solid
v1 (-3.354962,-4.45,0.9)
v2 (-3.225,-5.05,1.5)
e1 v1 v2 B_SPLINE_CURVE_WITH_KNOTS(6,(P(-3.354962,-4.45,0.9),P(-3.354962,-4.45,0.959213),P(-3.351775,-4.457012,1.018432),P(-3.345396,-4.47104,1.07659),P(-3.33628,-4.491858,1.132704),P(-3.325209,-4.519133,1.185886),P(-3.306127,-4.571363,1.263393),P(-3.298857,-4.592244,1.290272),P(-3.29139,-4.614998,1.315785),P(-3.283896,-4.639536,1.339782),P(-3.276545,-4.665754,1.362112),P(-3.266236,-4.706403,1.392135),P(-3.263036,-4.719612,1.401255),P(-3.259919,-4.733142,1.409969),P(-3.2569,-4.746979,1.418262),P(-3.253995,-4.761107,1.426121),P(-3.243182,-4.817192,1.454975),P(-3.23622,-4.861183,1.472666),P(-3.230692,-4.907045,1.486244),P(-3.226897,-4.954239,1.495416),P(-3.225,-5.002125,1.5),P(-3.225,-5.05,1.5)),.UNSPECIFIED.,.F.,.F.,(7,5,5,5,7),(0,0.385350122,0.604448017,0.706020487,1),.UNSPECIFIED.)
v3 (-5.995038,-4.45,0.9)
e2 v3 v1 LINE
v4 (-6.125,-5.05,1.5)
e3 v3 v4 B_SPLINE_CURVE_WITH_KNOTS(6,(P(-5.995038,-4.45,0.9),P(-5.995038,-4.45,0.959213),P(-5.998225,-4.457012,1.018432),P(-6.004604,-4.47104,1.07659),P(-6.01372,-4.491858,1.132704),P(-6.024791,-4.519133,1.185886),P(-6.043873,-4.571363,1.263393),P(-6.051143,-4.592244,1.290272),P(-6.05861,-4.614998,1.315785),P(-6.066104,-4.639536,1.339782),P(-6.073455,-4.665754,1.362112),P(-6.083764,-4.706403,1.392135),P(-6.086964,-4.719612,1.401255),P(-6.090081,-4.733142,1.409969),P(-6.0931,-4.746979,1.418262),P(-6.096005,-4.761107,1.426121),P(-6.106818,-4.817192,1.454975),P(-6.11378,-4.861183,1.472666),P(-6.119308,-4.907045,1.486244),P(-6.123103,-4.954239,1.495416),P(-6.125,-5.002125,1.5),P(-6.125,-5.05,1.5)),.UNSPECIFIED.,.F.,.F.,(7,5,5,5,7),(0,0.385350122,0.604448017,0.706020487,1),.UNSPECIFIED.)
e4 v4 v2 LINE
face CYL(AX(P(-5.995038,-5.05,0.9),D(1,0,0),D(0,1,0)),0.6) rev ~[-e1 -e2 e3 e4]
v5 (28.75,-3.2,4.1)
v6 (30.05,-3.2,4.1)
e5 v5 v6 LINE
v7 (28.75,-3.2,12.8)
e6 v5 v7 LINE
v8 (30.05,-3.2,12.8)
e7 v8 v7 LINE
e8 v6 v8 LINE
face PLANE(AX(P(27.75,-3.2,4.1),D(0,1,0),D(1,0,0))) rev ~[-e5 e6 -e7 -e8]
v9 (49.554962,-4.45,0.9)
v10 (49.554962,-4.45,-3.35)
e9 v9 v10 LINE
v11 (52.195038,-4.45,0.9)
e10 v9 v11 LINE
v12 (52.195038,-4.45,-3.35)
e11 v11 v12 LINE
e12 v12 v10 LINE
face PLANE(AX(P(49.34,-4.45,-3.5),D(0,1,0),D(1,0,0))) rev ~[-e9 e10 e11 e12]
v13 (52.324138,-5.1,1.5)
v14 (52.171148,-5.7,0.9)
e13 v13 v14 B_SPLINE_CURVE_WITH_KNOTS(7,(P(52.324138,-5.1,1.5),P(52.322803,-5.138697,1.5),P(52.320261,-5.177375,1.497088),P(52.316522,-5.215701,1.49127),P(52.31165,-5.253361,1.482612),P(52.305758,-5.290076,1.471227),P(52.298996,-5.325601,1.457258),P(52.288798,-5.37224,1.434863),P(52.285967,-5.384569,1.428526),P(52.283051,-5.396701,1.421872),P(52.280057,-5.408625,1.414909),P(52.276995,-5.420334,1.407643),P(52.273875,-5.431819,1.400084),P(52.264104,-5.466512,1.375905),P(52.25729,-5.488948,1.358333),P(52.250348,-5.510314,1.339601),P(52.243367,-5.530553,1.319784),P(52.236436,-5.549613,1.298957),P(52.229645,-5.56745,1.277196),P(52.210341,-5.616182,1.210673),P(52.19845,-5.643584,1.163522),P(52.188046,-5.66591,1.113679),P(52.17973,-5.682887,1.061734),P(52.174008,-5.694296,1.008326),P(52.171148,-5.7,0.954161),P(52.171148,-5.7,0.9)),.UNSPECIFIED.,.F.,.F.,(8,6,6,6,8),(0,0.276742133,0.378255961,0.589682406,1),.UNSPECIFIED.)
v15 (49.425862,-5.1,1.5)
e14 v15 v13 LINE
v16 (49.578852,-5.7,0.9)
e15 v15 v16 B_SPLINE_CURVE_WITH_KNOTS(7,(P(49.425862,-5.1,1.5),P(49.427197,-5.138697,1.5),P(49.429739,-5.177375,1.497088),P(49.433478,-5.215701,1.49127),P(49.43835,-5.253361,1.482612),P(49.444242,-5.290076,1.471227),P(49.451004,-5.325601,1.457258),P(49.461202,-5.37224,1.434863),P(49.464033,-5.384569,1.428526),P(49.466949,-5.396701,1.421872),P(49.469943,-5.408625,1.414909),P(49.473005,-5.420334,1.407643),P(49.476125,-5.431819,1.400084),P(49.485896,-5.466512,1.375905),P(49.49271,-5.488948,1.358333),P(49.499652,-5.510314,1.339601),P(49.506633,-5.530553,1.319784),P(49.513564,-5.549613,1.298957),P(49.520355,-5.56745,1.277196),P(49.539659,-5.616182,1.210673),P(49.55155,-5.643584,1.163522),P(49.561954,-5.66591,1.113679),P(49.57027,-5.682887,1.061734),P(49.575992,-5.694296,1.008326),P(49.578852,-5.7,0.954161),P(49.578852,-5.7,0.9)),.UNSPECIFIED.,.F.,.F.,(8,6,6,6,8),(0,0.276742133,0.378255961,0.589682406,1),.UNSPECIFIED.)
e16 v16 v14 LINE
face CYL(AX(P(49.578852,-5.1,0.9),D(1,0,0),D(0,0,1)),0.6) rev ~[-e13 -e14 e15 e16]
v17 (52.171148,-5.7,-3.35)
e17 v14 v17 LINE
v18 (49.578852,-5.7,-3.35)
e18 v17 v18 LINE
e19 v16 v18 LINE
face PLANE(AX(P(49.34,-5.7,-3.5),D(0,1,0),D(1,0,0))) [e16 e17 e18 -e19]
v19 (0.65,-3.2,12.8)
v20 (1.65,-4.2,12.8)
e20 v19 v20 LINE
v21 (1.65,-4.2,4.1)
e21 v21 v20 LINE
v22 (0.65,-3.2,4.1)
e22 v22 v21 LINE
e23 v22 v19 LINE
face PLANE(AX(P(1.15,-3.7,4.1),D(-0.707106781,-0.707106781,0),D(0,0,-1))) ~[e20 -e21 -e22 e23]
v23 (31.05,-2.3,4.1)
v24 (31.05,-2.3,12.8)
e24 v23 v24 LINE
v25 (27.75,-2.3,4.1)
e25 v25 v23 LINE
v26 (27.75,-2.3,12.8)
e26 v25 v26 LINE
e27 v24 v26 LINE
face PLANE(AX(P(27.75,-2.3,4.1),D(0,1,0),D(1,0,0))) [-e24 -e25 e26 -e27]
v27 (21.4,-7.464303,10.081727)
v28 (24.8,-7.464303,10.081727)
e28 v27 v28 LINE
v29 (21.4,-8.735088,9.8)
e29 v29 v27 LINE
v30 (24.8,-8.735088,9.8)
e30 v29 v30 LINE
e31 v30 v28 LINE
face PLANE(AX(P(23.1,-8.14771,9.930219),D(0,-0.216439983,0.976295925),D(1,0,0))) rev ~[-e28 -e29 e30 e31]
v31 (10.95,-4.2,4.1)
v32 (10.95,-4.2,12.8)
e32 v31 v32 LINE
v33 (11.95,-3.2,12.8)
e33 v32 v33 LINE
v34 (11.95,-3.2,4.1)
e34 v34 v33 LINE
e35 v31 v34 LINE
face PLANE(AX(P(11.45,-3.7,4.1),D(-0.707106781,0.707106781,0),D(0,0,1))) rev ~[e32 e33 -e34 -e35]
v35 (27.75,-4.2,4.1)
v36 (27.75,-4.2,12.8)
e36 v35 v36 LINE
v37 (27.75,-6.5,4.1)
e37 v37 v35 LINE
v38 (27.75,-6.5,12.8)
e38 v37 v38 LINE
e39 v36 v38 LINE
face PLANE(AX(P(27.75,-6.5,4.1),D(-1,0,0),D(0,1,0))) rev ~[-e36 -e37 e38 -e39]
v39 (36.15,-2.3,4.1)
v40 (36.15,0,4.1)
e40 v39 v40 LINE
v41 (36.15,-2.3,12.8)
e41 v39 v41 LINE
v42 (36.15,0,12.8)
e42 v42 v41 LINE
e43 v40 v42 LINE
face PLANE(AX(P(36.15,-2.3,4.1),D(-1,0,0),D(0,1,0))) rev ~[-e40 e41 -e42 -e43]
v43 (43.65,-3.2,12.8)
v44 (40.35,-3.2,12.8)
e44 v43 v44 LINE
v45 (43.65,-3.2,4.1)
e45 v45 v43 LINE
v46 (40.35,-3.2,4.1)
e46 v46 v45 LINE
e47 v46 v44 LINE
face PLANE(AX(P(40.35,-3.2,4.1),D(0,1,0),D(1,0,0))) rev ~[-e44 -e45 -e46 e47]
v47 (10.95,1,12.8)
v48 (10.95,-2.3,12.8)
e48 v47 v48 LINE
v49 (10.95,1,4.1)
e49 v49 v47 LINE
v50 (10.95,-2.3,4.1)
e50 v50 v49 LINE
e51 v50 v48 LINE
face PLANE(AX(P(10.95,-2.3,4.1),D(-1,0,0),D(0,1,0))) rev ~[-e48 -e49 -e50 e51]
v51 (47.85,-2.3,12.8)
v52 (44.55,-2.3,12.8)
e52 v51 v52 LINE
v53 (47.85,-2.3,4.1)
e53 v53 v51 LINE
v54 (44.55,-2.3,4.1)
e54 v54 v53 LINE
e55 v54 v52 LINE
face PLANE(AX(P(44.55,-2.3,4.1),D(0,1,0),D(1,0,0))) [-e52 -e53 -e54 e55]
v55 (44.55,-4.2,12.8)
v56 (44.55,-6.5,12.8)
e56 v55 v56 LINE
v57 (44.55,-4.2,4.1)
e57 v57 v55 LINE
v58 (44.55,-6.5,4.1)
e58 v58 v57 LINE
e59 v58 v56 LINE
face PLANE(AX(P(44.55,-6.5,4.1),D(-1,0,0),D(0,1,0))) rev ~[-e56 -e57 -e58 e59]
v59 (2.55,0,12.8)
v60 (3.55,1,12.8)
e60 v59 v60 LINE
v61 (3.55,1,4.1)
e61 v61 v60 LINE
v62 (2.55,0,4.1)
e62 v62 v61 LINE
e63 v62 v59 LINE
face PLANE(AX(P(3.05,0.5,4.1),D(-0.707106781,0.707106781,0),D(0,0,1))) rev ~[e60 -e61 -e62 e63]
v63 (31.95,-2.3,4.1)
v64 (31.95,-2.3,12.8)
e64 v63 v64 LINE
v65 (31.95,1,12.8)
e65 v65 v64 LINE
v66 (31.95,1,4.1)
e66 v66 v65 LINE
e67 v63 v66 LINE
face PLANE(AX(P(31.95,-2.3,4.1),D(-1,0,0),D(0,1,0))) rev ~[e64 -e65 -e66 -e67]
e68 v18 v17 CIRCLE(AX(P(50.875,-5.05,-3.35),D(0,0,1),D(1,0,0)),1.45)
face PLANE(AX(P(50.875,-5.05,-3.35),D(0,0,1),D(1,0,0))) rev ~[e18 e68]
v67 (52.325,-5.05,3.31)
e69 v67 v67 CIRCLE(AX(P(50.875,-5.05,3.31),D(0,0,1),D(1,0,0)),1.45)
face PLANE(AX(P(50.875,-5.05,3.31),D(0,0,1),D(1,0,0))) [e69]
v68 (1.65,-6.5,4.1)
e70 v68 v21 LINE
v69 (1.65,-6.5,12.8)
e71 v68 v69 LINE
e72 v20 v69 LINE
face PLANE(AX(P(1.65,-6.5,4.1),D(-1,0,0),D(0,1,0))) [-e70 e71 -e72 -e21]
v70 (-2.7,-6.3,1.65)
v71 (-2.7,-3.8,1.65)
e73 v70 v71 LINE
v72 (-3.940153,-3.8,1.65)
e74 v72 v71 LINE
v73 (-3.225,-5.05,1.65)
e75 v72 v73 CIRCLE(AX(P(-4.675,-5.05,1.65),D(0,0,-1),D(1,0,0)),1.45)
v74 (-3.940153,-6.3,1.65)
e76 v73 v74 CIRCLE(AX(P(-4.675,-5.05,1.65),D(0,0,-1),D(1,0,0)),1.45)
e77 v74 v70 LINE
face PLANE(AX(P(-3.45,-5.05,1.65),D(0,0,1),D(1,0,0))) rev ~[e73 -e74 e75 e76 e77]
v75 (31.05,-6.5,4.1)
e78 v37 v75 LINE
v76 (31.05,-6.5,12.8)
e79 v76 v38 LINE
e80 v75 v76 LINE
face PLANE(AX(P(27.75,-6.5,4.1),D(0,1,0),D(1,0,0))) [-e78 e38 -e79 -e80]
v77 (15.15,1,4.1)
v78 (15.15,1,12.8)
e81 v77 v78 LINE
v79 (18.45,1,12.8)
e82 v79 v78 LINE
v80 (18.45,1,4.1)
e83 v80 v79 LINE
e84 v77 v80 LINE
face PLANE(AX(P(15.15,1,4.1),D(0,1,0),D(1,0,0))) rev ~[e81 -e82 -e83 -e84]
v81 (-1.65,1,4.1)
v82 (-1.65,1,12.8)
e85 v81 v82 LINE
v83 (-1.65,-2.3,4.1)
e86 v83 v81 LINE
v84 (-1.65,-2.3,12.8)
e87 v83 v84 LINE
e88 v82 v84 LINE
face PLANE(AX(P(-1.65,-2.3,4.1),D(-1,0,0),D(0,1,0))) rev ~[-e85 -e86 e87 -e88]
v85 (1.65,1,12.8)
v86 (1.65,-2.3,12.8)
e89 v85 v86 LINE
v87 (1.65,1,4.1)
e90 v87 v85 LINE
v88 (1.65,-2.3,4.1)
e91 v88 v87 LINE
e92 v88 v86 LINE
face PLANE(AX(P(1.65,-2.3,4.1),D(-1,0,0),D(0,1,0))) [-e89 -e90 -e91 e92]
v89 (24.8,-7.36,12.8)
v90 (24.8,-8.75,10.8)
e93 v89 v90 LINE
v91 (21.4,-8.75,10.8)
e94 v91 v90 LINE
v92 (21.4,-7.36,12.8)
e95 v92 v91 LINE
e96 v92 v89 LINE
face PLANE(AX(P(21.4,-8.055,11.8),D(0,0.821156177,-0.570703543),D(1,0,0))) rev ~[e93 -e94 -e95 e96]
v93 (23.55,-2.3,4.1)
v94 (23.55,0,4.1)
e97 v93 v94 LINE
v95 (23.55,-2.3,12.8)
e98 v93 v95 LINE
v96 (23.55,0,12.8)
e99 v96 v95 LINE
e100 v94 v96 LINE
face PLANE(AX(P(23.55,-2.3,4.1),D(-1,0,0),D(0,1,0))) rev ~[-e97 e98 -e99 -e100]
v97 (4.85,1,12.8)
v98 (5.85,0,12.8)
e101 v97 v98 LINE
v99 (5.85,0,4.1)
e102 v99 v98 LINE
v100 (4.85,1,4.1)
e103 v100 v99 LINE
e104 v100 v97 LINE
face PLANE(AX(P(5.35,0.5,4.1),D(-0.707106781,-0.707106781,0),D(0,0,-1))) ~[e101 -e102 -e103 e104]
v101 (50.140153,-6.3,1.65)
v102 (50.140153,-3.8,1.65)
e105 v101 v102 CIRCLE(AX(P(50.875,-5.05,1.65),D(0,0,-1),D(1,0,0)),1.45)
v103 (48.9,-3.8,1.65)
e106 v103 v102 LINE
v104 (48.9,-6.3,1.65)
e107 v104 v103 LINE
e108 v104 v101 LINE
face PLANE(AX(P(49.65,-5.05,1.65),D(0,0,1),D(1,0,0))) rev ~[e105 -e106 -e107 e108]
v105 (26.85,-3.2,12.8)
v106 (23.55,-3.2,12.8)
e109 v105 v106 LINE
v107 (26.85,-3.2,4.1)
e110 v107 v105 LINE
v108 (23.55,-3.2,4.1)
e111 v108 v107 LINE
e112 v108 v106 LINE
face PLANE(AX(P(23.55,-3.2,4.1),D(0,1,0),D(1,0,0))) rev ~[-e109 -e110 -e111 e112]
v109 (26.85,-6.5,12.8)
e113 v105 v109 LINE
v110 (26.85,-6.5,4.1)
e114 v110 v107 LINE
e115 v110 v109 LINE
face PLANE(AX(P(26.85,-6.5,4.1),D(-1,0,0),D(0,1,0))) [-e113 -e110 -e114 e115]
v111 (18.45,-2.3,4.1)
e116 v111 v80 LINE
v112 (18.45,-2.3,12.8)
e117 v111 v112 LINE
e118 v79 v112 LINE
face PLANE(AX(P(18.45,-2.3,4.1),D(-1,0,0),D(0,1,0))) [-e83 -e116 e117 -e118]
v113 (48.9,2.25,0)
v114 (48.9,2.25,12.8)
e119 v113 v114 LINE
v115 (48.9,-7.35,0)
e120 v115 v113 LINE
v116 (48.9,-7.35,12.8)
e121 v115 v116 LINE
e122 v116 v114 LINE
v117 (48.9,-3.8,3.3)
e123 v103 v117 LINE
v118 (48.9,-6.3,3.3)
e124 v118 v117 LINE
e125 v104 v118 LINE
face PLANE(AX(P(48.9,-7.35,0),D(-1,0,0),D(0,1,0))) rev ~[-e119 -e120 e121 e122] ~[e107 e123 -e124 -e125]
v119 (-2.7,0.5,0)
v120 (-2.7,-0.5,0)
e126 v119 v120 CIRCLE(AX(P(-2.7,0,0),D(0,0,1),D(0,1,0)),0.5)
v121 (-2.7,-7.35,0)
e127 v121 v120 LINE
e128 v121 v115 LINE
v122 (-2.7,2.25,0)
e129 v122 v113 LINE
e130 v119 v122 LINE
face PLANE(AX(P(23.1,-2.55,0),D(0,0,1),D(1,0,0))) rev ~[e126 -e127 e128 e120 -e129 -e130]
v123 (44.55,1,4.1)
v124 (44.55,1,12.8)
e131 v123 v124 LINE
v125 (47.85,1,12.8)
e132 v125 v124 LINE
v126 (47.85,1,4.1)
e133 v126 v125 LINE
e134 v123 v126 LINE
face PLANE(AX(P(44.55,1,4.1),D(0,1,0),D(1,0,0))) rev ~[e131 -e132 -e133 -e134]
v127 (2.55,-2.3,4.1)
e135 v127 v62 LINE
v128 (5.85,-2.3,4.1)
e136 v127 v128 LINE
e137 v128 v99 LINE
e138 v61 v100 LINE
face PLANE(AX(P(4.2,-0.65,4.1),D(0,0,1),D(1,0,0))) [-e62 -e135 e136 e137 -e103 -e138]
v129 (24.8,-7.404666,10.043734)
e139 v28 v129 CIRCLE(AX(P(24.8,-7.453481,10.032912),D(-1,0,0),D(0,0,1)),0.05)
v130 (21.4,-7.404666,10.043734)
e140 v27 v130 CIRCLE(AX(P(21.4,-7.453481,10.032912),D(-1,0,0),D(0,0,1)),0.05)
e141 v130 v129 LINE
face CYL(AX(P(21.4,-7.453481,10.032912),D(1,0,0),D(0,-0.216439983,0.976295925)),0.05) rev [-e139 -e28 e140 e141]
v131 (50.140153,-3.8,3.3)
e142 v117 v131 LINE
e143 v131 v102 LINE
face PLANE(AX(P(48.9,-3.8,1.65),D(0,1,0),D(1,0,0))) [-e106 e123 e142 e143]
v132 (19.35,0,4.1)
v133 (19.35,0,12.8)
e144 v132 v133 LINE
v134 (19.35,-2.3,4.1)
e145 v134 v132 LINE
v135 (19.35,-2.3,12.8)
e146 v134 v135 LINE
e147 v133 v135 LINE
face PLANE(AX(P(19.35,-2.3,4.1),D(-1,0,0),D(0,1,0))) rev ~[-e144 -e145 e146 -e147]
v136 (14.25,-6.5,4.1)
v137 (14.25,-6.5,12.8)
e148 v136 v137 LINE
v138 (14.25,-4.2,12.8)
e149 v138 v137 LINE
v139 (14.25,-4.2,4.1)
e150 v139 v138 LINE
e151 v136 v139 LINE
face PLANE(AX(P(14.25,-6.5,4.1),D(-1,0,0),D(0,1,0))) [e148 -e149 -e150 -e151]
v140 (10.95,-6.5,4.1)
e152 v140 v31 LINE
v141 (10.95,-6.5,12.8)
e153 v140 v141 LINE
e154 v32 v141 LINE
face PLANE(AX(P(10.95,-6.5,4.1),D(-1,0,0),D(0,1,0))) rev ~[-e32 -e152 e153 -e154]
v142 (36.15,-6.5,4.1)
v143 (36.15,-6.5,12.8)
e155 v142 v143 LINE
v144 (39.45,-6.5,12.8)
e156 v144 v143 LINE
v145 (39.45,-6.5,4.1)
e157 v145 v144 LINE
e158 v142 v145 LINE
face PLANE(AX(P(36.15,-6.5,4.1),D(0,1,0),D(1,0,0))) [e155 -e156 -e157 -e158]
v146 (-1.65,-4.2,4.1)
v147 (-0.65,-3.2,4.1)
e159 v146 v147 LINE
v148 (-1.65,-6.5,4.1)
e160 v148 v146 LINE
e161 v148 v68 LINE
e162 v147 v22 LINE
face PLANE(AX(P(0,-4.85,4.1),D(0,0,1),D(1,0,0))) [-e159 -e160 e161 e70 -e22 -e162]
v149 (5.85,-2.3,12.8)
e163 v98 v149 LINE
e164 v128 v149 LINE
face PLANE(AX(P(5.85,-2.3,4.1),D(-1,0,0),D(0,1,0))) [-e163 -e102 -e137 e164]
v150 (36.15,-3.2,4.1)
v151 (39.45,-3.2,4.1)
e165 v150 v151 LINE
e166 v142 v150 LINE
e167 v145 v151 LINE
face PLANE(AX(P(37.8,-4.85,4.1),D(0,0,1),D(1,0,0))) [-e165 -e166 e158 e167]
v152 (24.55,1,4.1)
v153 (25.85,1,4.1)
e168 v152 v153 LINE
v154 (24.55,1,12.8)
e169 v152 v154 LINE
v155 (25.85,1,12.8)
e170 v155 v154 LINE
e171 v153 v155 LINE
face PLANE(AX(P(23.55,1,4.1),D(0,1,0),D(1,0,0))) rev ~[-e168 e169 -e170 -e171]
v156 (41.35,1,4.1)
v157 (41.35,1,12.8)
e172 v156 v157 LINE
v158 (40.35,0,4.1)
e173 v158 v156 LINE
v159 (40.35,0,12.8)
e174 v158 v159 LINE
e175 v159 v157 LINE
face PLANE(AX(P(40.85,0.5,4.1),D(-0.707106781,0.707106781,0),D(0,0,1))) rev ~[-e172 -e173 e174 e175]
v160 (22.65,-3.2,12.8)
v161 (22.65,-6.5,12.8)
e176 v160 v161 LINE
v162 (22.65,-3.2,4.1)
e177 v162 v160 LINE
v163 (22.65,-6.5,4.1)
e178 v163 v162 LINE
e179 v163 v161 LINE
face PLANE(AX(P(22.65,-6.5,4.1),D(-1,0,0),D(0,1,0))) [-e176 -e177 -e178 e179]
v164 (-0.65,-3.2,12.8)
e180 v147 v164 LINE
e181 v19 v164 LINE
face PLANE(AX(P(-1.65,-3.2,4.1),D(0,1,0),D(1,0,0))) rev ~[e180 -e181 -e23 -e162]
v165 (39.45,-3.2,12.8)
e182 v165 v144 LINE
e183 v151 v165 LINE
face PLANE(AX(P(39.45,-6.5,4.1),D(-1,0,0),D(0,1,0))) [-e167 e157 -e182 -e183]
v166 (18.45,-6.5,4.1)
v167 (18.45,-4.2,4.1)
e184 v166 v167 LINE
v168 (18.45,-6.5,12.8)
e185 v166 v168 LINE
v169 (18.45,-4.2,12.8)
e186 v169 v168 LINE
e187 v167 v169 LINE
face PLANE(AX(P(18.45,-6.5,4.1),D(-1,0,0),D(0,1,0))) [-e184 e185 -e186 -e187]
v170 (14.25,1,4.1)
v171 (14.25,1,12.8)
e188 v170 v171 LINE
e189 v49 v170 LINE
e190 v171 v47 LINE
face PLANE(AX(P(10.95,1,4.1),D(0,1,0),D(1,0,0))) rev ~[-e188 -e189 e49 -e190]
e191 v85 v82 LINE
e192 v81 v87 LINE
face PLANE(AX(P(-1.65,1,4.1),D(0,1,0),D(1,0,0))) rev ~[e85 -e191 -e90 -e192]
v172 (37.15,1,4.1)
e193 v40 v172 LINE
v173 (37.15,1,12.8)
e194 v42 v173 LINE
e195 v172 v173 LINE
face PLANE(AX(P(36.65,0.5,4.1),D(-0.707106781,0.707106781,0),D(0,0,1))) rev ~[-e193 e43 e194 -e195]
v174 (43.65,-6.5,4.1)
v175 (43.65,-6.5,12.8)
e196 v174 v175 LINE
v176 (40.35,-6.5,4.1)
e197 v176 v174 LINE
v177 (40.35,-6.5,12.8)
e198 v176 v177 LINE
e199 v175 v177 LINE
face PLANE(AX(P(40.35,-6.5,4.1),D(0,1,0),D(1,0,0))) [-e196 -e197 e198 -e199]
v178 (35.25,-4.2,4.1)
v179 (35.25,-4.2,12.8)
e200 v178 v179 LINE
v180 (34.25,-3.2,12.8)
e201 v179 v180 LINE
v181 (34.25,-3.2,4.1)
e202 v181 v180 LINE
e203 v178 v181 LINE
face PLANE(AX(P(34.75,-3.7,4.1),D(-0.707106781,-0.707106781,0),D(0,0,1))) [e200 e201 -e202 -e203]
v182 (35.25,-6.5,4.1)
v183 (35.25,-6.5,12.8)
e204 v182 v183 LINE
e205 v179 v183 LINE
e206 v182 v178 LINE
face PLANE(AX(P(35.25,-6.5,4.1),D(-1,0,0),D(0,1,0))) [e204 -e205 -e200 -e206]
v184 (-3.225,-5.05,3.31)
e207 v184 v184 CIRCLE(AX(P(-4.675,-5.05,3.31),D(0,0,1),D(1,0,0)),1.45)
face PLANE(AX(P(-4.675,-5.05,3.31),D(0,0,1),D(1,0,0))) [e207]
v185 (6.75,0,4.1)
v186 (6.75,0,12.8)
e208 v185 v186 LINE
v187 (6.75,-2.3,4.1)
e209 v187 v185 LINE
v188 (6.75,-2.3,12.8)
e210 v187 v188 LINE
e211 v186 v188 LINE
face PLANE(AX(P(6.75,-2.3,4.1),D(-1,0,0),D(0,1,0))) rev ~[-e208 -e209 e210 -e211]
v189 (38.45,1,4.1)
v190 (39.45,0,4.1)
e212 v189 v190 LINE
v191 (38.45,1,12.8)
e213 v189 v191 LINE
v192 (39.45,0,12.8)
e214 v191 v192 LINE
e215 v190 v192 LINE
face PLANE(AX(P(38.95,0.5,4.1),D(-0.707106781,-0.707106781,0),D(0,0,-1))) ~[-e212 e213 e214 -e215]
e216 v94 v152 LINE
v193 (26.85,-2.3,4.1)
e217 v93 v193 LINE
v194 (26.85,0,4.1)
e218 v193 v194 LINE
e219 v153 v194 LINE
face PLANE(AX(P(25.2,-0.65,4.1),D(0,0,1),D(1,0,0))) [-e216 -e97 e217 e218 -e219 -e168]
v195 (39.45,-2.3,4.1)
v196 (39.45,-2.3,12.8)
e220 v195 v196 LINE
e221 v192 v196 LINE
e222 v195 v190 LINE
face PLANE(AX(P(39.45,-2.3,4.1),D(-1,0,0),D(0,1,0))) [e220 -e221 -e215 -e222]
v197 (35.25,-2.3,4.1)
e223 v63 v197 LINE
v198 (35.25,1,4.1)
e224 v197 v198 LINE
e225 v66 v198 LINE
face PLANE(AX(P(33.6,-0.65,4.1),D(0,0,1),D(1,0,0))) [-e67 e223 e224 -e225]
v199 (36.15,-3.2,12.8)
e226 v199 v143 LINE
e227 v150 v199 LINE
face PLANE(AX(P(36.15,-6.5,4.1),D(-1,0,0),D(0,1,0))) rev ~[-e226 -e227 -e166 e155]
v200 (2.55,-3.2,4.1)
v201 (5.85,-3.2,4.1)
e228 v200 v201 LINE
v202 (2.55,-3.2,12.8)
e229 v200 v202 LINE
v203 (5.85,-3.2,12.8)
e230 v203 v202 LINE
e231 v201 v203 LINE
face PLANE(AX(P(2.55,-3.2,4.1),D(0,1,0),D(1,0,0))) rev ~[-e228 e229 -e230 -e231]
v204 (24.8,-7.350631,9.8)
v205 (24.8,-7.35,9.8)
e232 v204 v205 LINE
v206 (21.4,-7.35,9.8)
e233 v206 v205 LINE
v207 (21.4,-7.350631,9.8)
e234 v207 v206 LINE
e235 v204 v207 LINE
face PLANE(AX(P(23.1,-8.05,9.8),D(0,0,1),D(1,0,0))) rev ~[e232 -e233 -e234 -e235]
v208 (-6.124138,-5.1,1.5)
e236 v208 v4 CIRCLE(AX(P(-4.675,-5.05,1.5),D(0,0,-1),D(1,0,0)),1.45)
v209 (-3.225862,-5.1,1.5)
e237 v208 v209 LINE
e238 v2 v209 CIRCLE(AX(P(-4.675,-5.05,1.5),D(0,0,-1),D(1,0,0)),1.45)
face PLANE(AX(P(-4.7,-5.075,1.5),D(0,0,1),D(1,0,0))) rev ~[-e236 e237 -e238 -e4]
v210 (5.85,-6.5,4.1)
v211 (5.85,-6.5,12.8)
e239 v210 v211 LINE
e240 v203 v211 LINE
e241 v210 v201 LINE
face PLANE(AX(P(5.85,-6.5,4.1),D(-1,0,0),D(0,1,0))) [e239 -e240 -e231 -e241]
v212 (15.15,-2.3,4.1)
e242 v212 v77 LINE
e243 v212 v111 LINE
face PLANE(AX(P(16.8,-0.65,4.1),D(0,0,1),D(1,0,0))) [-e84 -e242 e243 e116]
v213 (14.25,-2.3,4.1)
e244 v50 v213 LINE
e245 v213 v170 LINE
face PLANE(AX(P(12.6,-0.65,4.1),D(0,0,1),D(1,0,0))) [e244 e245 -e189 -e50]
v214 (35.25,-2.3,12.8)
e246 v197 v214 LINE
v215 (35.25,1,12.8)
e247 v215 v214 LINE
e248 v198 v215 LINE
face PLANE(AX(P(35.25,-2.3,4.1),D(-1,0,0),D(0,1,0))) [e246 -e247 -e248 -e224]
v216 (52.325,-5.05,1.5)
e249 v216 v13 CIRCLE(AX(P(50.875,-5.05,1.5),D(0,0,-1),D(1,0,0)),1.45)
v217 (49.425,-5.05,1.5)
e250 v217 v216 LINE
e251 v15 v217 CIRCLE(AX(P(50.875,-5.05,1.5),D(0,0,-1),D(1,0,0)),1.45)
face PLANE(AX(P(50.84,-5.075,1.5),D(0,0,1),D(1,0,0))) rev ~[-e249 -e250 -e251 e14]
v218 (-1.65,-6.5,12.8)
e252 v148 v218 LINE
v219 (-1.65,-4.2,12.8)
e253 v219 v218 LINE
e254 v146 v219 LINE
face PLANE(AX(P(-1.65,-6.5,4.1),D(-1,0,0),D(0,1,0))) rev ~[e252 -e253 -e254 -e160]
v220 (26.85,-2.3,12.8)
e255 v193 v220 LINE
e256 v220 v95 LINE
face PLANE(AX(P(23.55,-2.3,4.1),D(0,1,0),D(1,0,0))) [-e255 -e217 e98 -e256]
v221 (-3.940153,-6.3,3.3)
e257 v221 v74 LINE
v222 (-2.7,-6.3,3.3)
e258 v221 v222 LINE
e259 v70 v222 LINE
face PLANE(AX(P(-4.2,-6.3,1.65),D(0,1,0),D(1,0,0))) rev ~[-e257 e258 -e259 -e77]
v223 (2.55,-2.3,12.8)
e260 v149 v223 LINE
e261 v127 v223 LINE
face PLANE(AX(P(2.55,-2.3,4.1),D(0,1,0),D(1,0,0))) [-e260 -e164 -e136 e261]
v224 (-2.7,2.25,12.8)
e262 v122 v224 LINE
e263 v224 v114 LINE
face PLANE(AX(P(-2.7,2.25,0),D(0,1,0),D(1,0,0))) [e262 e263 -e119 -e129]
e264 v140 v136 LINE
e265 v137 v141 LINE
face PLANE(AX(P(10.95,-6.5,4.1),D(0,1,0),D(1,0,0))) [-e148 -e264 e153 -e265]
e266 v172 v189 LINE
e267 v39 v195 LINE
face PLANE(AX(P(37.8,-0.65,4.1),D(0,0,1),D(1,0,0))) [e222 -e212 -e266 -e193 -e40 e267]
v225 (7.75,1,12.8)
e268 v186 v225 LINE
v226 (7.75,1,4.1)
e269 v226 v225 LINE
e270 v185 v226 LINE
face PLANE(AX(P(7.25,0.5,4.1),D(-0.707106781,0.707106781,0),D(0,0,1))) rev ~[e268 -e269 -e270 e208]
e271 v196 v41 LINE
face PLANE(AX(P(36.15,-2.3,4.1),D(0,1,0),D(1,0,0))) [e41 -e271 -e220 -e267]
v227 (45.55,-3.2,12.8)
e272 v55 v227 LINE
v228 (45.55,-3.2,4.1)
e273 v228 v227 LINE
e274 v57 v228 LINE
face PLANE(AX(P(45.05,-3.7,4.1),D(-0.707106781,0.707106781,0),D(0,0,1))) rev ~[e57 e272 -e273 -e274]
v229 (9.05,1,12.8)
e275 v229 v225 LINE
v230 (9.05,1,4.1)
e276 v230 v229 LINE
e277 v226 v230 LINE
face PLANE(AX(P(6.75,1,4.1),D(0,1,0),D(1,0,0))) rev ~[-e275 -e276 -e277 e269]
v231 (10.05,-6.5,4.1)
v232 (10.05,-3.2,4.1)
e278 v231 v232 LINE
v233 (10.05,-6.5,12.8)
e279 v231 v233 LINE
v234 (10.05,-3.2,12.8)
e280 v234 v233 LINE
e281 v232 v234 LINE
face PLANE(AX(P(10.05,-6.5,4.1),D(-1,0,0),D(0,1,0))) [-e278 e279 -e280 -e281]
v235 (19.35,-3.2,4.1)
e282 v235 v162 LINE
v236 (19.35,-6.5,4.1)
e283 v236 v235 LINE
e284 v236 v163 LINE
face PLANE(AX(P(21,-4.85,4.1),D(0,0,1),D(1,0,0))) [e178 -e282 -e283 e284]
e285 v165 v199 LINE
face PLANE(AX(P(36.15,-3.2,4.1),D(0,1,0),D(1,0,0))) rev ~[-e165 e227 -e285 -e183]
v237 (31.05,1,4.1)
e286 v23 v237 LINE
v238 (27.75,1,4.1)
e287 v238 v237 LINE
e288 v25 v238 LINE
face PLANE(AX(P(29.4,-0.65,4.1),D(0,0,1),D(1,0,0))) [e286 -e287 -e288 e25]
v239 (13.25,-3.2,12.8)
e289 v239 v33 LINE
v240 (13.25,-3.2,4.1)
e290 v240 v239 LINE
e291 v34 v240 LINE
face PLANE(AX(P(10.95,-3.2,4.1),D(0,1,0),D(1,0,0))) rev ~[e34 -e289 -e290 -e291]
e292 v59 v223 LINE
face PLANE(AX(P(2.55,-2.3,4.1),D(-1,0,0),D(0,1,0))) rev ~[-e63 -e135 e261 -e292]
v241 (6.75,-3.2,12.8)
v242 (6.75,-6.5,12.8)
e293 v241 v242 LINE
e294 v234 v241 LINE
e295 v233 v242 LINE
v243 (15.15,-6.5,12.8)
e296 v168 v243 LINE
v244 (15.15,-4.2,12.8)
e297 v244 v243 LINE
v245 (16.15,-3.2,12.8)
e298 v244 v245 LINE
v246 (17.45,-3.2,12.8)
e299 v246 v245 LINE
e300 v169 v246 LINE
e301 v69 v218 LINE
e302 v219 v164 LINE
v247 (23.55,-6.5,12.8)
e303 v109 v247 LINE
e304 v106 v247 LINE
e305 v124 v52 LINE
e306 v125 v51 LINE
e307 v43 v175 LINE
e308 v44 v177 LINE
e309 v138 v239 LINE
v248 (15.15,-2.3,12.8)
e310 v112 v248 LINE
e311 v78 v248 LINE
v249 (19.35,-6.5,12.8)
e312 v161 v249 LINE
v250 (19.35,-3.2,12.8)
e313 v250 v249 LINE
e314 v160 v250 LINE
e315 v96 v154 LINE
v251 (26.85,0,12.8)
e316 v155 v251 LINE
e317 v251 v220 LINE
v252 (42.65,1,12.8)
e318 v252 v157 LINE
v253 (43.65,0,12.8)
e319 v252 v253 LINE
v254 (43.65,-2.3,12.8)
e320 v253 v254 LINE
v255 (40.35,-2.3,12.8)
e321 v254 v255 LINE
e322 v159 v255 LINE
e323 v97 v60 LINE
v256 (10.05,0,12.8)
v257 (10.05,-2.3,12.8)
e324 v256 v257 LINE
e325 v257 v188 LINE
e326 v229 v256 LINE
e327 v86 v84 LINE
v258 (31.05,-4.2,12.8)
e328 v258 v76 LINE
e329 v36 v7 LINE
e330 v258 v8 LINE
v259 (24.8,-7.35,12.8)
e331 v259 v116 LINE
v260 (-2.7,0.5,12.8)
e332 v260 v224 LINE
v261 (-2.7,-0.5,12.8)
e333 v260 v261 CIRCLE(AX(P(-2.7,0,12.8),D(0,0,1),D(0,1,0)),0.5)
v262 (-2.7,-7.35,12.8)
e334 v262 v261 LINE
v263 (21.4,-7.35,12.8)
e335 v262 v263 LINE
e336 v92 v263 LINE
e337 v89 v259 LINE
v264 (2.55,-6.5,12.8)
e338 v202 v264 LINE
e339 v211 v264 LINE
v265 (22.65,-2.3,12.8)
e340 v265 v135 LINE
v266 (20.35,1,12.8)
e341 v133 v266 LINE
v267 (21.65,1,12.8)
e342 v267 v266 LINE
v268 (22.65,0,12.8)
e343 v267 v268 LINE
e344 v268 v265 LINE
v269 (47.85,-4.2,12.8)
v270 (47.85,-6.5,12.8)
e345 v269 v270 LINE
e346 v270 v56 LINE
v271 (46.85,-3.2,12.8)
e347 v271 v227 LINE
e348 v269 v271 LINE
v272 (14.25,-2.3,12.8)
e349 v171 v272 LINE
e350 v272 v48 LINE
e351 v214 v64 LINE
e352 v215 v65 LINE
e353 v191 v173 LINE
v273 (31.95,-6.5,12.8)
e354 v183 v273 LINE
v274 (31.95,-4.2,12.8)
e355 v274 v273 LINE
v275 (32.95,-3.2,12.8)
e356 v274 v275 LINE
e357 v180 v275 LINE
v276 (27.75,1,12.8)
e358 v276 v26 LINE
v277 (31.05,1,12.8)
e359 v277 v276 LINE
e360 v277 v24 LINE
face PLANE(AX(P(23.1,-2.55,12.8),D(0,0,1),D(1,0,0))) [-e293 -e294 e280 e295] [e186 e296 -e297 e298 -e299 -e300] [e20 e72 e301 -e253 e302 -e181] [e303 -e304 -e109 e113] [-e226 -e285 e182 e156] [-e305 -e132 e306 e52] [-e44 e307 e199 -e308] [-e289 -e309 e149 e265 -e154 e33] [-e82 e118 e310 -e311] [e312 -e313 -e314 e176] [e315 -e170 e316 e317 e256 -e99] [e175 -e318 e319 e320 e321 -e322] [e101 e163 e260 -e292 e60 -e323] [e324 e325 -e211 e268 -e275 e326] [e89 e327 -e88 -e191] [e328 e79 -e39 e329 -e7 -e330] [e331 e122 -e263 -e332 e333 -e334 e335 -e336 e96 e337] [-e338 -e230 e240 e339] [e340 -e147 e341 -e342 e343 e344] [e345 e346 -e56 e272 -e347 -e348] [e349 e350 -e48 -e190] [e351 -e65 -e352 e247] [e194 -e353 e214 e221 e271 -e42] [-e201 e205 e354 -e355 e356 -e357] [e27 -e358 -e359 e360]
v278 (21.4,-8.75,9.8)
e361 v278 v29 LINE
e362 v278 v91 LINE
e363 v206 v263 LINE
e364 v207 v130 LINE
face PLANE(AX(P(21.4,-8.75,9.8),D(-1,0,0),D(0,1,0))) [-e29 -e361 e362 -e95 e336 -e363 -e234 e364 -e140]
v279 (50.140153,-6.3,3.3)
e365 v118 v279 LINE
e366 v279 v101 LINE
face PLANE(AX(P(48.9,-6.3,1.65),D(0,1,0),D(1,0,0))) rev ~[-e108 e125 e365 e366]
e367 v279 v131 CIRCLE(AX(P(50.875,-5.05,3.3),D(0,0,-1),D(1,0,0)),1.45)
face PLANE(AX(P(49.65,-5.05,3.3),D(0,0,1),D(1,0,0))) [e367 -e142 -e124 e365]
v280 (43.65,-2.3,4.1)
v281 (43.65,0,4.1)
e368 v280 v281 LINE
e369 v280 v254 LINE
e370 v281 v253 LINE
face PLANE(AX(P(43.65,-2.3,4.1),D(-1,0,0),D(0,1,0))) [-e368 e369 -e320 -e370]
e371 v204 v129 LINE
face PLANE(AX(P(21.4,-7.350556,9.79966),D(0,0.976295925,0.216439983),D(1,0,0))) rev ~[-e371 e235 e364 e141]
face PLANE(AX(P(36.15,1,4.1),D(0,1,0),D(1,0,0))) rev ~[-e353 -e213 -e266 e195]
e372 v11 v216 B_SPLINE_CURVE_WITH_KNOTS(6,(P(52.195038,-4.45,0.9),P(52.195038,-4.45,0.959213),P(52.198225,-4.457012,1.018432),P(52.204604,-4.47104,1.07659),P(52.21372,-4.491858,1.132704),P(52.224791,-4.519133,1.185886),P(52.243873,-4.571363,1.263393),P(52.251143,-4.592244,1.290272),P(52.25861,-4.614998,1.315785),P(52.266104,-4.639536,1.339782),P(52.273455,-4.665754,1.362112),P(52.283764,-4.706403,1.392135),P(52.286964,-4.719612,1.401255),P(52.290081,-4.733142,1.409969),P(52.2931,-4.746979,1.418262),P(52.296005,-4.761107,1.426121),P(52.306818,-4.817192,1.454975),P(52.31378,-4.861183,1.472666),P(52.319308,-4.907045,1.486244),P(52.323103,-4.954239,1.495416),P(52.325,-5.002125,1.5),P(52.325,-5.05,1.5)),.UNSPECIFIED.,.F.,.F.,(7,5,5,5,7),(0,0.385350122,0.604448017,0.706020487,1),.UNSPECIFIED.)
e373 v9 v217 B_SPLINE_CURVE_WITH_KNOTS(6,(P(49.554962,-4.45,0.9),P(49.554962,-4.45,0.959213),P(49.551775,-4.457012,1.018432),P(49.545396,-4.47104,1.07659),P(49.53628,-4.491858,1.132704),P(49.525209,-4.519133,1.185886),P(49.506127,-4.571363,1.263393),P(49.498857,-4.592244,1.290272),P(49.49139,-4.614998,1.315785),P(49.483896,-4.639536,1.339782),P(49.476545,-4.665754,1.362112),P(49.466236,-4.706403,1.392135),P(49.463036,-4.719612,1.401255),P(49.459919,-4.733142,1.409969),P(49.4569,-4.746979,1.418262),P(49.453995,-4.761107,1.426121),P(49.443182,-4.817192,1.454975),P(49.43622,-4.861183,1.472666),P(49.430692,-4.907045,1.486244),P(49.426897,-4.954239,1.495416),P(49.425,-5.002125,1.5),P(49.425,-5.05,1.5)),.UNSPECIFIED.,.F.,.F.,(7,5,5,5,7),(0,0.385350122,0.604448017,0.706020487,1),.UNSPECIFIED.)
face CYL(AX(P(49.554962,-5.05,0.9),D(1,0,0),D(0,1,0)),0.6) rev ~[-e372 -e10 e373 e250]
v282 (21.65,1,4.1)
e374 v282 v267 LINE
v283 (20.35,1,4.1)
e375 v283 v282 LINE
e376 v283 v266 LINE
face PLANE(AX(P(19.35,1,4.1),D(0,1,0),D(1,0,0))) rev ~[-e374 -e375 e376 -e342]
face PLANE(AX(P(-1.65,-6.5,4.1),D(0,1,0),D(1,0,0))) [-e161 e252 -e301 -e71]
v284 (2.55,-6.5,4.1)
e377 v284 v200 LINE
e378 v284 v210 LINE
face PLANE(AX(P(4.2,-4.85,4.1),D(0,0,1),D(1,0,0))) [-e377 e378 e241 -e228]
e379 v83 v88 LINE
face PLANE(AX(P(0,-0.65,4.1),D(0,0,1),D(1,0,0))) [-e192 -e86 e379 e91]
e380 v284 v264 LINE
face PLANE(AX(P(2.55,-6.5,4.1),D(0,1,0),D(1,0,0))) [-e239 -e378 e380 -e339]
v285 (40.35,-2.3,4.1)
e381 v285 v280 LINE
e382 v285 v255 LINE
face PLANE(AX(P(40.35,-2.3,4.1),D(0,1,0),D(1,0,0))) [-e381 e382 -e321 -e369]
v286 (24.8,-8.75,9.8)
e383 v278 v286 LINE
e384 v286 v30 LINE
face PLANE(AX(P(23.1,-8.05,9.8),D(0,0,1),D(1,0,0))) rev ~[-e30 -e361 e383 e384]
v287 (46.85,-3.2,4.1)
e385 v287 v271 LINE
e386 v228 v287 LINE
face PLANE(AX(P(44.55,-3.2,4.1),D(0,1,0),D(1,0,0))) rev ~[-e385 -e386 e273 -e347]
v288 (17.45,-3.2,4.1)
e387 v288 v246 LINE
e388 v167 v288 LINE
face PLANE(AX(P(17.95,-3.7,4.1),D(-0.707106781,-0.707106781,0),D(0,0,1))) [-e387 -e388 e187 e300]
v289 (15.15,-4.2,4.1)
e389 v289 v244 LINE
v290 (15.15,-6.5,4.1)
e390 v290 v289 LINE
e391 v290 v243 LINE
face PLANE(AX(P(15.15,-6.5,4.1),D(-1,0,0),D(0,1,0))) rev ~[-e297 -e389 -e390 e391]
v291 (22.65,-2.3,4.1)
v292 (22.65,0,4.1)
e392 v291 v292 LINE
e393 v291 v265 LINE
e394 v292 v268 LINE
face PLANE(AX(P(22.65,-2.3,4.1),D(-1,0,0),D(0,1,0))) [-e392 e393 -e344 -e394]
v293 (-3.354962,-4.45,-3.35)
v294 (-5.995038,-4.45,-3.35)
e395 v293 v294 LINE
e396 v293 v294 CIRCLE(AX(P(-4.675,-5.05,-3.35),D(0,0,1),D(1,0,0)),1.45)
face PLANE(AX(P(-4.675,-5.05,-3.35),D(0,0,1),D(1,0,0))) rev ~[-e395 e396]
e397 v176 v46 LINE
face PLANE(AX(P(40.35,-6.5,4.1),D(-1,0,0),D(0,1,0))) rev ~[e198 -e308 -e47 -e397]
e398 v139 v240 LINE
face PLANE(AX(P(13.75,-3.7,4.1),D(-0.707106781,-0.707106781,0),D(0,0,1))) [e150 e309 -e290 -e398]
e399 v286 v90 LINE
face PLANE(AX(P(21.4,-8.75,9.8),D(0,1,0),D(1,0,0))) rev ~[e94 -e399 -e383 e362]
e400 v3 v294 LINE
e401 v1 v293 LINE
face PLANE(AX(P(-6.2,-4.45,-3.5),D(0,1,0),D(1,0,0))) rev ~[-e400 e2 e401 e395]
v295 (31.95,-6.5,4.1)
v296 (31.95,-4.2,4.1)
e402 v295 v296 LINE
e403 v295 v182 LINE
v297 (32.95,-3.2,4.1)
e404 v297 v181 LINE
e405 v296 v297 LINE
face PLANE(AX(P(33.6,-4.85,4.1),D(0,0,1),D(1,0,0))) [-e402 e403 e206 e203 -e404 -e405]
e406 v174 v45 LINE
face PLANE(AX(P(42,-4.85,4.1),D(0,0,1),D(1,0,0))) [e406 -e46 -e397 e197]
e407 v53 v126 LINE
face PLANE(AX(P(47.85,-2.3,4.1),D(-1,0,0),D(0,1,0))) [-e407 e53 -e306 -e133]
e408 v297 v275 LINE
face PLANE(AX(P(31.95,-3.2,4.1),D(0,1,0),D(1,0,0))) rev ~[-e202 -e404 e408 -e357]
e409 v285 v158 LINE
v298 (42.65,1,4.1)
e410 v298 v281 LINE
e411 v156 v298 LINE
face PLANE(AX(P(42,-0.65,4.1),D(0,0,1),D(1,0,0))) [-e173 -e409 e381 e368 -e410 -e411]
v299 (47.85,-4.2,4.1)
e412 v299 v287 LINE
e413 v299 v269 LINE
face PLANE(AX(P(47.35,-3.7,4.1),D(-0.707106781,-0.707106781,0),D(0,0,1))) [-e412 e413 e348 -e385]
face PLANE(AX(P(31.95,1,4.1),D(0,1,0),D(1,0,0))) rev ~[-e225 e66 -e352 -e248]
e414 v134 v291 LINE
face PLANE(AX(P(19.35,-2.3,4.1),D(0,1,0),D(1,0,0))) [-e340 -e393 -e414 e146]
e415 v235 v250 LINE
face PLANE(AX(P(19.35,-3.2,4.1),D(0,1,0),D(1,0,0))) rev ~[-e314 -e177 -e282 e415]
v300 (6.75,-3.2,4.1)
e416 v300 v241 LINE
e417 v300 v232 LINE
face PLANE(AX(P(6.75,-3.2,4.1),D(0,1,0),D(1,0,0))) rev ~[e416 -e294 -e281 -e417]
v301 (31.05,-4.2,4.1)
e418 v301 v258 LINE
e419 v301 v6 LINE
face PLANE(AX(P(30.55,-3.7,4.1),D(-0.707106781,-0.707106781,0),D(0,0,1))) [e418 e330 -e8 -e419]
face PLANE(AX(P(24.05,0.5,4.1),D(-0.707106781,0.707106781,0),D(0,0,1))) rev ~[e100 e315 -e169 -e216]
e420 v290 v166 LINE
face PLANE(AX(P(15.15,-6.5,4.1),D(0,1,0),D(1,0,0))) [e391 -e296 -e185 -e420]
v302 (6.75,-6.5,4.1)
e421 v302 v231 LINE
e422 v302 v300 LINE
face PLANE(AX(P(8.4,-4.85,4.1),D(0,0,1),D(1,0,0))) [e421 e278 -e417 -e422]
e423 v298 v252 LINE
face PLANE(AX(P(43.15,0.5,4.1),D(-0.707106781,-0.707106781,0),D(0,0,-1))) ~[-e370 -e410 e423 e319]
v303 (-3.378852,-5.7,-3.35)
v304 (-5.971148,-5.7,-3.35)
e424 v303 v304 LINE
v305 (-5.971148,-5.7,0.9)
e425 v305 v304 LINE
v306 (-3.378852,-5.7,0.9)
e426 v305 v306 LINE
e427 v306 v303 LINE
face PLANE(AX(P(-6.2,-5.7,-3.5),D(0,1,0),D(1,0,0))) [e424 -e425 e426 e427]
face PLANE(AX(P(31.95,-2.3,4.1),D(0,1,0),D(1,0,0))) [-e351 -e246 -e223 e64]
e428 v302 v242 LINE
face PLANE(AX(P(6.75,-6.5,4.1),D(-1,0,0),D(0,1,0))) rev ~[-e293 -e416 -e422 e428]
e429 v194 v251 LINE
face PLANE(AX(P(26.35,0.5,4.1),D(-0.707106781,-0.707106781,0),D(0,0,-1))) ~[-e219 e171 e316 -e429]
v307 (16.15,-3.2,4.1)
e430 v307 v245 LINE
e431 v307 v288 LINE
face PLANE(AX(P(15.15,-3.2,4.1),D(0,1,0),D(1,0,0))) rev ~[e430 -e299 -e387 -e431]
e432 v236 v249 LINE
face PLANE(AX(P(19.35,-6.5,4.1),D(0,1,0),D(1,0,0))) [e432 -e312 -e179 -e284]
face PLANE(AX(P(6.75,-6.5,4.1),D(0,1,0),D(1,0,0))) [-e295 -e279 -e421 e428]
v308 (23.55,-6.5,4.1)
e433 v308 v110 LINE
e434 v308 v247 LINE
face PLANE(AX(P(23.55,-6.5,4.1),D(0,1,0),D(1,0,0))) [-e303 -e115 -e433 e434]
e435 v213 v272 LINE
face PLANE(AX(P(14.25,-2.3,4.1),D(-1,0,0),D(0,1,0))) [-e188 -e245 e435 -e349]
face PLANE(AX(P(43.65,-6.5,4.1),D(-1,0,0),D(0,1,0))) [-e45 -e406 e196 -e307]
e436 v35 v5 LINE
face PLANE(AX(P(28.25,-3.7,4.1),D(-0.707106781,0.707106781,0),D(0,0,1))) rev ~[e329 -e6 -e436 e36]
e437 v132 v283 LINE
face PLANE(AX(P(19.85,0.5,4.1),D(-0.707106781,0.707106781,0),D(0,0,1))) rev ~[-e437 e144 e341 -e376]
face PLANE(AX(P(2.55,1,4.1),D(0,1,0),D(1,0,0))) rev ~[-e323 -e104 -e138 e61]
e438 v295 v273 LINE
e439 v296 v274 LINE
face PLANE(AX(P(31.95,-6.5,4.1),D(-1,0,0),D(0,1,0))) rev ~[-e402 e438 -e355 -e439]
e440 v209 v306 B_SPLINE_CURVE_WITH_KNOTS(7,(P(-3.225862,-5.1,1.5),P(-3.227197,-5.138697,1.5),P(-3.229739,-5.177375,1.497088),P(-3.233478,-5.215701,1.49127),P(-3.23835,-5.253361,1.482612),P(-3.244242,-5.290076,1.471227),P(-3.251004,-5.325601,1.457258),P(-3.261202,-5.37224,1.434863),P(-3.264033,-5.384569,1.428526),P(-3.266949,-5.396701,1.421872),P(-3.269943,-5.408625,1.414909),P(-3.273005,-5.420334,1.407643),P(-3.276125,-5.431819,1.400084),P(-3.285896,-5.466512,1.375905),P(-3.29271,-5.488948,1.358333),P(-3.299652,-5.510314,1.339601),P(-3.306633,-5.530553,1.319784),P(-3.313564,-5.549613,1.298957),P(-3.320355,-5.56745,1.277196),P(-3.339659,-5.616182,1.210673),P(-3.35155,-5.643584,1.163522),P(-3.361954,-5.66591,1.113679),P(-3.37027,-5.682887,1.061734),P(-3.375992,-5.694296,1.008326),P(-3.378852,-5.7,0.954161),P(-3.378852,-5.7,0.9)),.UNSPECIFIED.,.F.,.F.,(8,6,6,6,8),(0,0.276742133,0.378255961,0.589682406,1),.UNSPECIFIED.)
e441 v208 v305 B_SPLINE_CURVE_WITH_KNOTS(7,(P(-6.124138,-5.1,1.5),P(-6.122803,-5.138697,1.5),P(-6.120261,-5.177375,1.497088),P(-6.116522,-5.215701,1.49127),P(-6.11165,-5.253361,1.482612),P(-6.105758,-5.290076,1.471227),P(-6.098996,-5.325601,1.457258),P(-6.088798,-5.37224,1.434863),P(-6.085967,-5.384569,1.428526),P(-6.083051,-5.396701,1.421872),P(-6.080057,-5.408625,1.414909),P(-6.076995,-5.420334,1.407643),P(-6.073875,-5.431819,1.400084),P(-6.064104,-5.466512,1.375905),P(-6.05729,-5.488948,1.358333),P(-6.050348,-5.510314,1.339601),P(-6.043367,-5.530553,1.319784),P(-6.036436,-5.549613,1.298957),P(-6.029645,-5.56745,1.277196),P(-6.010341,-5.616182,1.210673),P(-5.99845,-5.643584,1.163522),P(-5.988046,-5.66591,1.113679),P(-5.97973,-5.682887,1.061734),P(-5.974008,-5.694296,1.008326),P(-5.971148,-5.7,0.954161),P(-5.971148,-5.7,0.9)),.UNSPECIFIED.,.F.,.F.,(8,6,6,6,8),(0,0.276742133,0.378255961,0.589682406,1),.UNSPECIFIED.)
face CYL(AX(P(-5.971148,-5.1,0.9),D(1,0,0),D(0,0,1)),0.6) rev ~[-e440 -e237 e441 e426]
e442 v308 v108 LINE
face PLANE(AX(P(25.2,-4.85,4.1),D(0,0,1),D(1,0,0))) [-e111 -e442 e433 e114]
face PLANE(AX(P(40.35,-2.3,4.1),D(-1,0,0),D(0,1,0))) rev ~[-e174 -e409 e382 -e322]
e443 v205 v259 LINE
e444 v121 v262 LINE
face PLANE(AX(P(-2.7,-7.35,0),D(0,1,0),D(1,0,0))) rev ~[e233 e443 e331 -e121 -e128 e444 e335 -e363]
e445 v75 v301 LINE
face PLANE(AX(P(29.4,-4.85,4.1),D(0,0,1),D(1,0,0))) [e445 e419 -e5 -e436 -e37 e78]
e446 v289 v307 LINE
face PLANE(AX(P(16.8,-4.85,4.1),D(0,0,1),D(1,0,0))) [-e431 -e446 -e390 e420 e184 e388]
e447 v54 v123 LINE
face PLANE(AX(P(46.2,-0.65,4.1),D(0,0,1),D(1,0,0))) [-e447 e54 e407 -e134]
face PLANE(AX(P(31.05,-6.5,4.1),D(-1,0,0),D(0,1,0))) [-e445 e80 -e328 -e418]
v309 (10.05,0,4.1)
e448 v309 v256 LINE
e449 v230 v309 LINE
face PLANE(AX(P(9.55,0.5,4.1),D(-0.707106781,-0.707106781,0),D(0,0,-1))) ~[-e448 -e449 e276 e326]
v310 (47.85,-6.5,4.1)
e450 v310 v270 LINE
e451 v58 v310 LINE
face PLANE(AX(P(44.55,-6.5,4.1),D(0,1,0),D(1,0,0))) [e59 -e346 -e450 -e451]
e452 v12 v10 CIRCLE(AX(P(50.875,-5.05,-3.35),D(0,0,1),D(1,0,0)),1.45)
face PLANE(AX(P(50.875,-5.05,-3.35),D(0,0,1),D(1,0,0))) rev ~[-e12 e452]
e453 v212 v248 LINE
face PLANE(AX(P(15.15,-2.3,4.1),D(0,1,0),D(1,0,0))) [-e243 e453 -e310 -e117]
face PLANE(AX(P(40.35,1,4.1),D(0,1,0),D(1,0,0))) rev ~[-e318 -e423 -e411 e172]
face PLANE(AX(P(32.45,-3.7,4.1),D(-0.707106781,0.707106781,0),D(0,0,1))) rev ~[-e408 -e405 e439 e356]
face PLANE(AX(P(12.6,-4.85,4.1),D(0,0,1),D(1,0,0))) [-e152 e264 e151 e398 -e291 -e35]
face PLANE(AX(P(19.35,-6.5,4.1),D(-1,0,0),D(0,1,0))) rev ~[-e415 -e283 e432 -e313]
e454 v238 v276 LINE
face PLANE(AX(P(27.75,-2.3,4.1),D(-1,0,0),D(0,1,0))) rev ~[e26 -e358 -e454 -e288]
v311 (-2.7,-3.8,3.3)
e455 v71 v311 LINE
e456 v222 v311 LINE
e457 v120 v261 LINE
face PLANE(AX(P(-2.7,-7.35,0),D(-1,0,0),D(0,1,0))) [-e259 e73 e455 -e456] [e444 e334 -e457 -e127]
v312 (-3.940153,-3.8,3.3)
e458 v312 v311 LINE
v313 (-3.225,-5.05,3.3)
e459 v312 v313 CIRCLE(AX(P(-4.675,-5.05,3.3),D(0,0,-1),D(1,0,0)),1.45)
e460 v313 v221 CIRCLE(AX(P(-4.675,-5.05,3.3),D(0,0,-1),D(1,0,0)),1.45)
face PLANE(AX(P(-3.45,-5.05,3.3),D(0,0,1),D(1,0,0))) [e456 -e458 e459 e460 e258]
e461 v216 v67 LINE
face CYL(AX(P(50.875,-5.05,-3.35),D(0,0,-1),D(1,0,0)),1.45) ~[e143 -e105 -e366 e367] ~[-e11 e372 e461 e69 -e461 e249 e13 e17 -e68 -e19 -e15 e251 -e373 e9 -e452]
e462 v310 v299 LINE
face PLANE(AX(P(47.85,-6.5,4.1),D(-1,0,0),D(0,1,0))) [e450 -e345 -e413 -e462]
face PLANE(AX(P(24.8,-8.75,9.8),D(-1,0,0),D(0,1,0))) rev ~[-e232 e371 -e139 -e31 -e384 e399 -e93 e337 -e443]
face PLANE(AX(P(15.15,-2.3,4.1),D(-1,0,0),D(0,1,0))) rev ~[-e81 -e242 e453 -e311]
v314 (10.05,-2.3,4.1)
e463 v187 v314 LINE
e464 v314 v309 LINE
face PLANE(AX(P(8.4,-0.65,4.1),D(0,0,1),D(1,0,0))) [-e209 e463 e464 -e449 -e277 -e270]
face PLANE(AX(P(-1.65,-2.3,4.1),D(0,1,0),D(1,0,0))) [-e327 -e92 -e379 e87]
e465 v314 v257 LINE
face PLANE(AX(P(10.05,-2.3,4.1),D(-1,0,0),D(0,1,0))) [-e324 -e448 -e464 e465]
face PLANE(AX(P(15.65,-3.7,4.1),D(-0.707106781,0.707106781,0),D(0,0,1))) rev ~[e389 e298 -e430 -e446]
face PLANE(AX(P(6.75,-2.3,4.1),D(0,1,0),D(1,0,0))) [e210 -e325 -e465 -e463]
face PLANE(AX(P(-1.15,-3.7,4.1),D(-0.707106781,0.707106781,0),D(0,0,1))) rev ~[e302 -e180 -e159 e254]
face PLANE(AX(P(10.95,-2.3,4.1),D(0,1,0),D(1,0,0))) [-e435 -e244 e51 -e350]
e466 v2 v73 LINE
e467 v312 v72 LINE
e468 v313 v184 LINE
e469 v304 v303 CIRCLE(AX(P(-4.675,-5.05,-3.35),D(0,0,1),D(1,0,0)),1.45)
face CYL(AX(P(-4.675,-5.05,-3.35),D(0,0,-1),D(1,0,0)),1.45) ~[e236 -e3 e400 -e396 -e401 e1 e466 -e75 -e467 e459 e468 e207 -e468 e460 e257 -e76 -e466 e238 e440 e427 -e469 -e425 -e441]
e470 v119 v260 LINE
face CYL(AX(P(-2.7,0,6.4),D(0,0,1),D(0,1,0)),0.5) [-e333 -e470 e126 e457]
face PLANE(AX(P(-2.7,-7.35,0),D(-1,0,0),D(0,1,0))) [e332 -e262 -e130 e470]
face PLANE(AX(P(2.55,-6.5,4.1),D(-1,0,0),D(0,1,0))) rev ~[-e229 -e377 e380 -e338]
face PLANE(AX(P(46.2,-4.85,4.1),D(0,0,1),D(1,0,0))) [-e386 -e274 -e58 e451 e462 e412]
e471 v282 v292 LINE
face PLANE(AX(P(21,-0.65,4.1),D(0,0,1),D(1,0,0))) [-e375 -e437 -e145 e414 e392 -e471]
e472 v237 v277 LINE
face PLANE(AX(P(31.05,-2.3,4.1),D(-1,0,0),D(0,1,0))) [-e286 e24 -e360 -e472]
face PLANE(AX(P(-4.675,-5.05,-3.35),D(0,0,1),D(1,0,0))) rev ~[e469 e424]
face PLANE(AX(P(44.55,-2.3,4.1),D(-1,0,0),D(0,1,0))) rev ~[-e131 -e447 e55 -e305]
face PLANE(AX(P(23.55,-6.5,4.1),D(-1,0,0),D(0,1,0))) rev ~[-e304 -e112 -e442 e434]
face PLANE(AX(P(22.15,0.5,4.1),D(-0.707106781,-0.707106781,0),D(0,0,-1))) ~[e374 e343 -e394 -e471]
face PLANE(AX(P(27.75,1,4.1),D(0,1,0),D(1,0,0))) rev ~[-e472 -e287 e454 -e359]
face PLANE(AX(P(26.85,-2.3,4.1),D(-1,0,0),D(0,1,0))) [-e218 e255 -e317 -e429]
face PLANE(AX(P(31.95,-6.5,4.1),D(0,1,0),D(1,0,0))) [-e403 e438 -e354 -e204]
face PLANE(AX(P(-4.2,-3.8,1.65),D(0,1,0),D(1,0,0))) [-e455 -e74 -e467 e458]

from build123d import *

# Parameters (mm, degrees)
BOX_W                  = 51.6
BOX_H                  = 9.6
BOX_DEPTH              = 12.8
BOX001_W               = 3.4
BOX001_H               = 1.4
BOX001_DEPTH           = 3
CHAMFER_SIZE2          = 2
CHAMFER_SIZE           = 1.39
BOX002_W               = 3.4
BOX002_H               = 1.5
BOX002_DEPTH           = 0.3
FILLET_R               = 0.05
BOX006_W               = 1.5
BOX006_H               = 2.5
BOX006_DEPTH           = 1.65
CYLINDER_R             = 1.45
CYLINDER_DEPTH         = 6.66
BOX007_W               = 1.5
BOX007_H               = 2.5
BOX007_DEPTH           = 1.65
CYLINDER001_R          = 1.45
CYLINDER001_DEPTH      = 6.66
BOX003_W               = 3.3
BOX003_H               = 3.3
BOX003_DEPTH           = 8.75
LINEARPATTERN_COUNT    = 12
LINEARPATTERN_PITCH    = 4.2
BOX008_W               = 3.3
BOX008_H               = 3.3
BOX008_DEPTH           = 8.75
LINEARPATTERN001_COUNT = 12
LINEARPATTERN001_PITCH = 4.2
CHAMFER001_SIZE        = 1
CYLINDER002_W          = 0.5
CYLINDER002_H          = 12.8
CYLINDER002_ANGLE      = 180
BOX009_W               = 3
BOX009_H               = 1.25
BOX009_DEPTH           = 5
LINEARPATTERN002_COUNT = 2
LINEARPATTERN002_PITCH = 55.54
FILLET001_R            = 0.6


with BuildPart() as part:
    # Box → Box (join)
    with BuildSketch(Plane(origin=(-2.7, -7.35, 0), x_dir=(1, 0, 0), z_dir=(0, 0, 1))):
        with Locations((25.8, 4.8)):
            Rectangle(BOX_W, BOX_H)
    extrude(amount=BOX_DEPTH)

    # Box001 → Box001 (join)
    with BuildSketch(Plane(origin=(21.4, -8.75, 9.8), x_dir=(1, 0, 0), z_dir=(0, 0, 1))):
        with Locations((1.7, 0.7)):
            Rectangle(BOX001_W, BOX001_H)
    extrude(amount=BOX001_DEPTH)

    # Chamfer
    chamfer_edges = [part.edges().sort_by_distance(p)[0] for p in [
        (23.1, -8.75, 12.8),
    ]]
    chamfer_side = part.faces().sort_by_distance((23.1, -8.05, 12.8))[0]
    chamfer(chamfer_edges, length=CHAMFER_SIZE, length2=CHAMFER_SIZE2, reference=chamfer_side)

    # Box002 → Box002 (cut)
    with BuildSketch(Plane(origin=(21.4, -8.815, 9.475), x_dir=(1, 0, 0), z_dir=(0, -0.21644, 0.976296))):
        with Locations((1.7, 0.75)):
            Rectangle(BOX002_W, BOX002_H)
    extrude(amount=BOX002_DEPTH, mode=Mode.SUBTRACT)

    # Fillet
    fillet_edges = [part.edges().sort_by_distance(p)[0] for p in [
        (23.1, -7.415488, 10.092548),
    ]]
    fillet(fillet_edges, radius=FILLET_R)

    # Box006 → Box006 (join)
    with BuildSketch(Plane(origin=(-4.2, -6.3, 1.65), x_dir=(1, 0, 0), z_dir=(0, 0, 1))):
        with Locations((0.75, 1.25)):
            Rectangle(BOX006_W, BOX006_H)
    extrude(amount=BOX006_DEPTH)

    # Cylinder → Cylinder (join)
    with BuildSketch(Plane(origin=(-4.675, -5.05, -3.35), x_dir=(1, 0, 0), z_dir=(0, 0, 1))):
        Circle(CYLINDER_R)
    extrude(amount=CYLINDER_DEPTH)

    # Box007 → Box007 (join)
    with BuildSketch(Plane(origin=(48.9, -6.3, 1.65), x_dir=(1, 0, 0), z_dir=(0, 0, 1))):
        with Locations((0.75, 1.25)):
            Rectangle(BOX007_W, BOX007_H)
    extrude(amount=BOX007_DEPTH)

    # Cylinder001 → Cylinder001 (join)
    with BuildSketch(Plane(origin=(50.875, -5.05, -3.35), x_dir=(1, 0, 0), z_dir=(0, 0, 1))):
        Circle(CYLINDER001_R)
    extrude(amount=CYLINDER001_DEPTH)

    # Box003 → Box003 (cut)
    with BuildSketch(Plane(origin=(-1.65, -2.3, 4.1), x_dir=(1, 0, 0), z_dir=(0, 0, 1))):
        with Locations((1.65, 1.65)):
            Rectangle(BOX003_W, BOX003_H)
    box003 = extrude(amount=BOX003_DEPTH, mode=Mode.SUBTRACT)

    # LinearPattern: Box003 ×12
    with Locations(*[(i * LINEARPATTERN_PITCH, 0, 0) for i in range(1, LINEARPATTERN_COUNT)]):
        add(box003, mode=Mode.SUBTRACT)

    # Box008 → Box008 (cut)
    with BuildSketch(Plane(origin=(-1.65, -6.5, 4.1), x_dir=(1, 0, 0), z_dir=(0, 0, 1))):
        with Locations((1.65, 1.65)):
            Rectangle(BOX008_W, BOX008_H)
    box008 = extrude(amount=BOX008_DEPTH, mode=Mode.SUBTRACT)

    # LinearPattern001: Box008 ×12
    with Locations(*[(i * LINEARPATTERN001_PITCH, 0, 0) for i in range(1, LINEARPATTERN001_COUNT)]):
        add(box008, mode=Mode.SUBTRACT)

    # Chamfer001
    chamfer001_edges = [part.edges().sort_by_distance(p)[0] for p in [
        (2.55, 1, 8.45),
        (-1.65, -3.2, 8.45),
        (5.85, 1, 8.45),
        (1.65, -3.2, 8.45),
        (14.25, -3.2, 8.45),
        (10.95, -3.2, 8.45),
        (31.95, -3.2, 8.45),
        (40.35, 1, 8.45),
        (36.15, 1, 8.45),
        (47.85, -3.2, 8.45),
        (43.65, 1, 8.45),
        (44.55, -3.2, 8.45),
        (18.45, -3.2, 8.45),
        (15.15, -3.2, 8.45),
        (6.75, 1, 8.45),
        (10.05, 1, 8.45),
        (39.45, 1, 8.45),
        (35.25, -3.2, 8.45),
        (31.05, -3.2, 8.45),
        (27.75, -3.2, 8.45),
        (26.85, 1, 8.45),
        (23.55, 1, 8.45),
        (22.65, 1, 8.45),
        (19.35, 1, 8.45),
    ]]
    chamfer(chamfer001_edges, length=CHAMFER001_SIZE)

    # Cylinder002 → Cylinder002 (revolve)
    with BuildSketch(Plane.YZ.offset(-2.7)):
        with Locations((0.25, 6.4)):
            Rectangle(CYLINDER002_W, CYLINDER002_H)
    revolve(axis=Axis((-2.7, 0, 0), (0, 0, 1)), revolution_arc=CYLINDER002_ANGLE)

    # Box009 → Box009 (cut)
    with BuildSketch(Plane(origin=(-6.2, -5.7, -3.5), x_dir=(1, 0, 0), z_dir=(0, 0, 1))):
        with Locations((1.5, 0.625)):
            Rectangle(BOX009_W, BOX009_H)
    box009 = extrude(amount=BOX009_DEPTH, mode=Mode.SUBTRACT)

    # LinearPattern002: Box009 ×2
    with Locations(*[(i * LINEARPATTERN002_PITCH, 0, 0) for i in range(1, LINEARPATTERN002_COUNT)]):
        add(box009, mode=Mode.SUBTRACT)

    # Fillet001
    fillet001_edges = [part.edges().sort_by_distance(p)[0] for p in [
        (50.875, -5.7, 1.5),
        (50.875, -4.45, 1.5),
        (-4.675, -5.7, 1.5),
        (-4.675, -4.45, 1.5),
    ]]
    fillet(fillet001_edges, radius=FILLET001_R)


solid = part.part
